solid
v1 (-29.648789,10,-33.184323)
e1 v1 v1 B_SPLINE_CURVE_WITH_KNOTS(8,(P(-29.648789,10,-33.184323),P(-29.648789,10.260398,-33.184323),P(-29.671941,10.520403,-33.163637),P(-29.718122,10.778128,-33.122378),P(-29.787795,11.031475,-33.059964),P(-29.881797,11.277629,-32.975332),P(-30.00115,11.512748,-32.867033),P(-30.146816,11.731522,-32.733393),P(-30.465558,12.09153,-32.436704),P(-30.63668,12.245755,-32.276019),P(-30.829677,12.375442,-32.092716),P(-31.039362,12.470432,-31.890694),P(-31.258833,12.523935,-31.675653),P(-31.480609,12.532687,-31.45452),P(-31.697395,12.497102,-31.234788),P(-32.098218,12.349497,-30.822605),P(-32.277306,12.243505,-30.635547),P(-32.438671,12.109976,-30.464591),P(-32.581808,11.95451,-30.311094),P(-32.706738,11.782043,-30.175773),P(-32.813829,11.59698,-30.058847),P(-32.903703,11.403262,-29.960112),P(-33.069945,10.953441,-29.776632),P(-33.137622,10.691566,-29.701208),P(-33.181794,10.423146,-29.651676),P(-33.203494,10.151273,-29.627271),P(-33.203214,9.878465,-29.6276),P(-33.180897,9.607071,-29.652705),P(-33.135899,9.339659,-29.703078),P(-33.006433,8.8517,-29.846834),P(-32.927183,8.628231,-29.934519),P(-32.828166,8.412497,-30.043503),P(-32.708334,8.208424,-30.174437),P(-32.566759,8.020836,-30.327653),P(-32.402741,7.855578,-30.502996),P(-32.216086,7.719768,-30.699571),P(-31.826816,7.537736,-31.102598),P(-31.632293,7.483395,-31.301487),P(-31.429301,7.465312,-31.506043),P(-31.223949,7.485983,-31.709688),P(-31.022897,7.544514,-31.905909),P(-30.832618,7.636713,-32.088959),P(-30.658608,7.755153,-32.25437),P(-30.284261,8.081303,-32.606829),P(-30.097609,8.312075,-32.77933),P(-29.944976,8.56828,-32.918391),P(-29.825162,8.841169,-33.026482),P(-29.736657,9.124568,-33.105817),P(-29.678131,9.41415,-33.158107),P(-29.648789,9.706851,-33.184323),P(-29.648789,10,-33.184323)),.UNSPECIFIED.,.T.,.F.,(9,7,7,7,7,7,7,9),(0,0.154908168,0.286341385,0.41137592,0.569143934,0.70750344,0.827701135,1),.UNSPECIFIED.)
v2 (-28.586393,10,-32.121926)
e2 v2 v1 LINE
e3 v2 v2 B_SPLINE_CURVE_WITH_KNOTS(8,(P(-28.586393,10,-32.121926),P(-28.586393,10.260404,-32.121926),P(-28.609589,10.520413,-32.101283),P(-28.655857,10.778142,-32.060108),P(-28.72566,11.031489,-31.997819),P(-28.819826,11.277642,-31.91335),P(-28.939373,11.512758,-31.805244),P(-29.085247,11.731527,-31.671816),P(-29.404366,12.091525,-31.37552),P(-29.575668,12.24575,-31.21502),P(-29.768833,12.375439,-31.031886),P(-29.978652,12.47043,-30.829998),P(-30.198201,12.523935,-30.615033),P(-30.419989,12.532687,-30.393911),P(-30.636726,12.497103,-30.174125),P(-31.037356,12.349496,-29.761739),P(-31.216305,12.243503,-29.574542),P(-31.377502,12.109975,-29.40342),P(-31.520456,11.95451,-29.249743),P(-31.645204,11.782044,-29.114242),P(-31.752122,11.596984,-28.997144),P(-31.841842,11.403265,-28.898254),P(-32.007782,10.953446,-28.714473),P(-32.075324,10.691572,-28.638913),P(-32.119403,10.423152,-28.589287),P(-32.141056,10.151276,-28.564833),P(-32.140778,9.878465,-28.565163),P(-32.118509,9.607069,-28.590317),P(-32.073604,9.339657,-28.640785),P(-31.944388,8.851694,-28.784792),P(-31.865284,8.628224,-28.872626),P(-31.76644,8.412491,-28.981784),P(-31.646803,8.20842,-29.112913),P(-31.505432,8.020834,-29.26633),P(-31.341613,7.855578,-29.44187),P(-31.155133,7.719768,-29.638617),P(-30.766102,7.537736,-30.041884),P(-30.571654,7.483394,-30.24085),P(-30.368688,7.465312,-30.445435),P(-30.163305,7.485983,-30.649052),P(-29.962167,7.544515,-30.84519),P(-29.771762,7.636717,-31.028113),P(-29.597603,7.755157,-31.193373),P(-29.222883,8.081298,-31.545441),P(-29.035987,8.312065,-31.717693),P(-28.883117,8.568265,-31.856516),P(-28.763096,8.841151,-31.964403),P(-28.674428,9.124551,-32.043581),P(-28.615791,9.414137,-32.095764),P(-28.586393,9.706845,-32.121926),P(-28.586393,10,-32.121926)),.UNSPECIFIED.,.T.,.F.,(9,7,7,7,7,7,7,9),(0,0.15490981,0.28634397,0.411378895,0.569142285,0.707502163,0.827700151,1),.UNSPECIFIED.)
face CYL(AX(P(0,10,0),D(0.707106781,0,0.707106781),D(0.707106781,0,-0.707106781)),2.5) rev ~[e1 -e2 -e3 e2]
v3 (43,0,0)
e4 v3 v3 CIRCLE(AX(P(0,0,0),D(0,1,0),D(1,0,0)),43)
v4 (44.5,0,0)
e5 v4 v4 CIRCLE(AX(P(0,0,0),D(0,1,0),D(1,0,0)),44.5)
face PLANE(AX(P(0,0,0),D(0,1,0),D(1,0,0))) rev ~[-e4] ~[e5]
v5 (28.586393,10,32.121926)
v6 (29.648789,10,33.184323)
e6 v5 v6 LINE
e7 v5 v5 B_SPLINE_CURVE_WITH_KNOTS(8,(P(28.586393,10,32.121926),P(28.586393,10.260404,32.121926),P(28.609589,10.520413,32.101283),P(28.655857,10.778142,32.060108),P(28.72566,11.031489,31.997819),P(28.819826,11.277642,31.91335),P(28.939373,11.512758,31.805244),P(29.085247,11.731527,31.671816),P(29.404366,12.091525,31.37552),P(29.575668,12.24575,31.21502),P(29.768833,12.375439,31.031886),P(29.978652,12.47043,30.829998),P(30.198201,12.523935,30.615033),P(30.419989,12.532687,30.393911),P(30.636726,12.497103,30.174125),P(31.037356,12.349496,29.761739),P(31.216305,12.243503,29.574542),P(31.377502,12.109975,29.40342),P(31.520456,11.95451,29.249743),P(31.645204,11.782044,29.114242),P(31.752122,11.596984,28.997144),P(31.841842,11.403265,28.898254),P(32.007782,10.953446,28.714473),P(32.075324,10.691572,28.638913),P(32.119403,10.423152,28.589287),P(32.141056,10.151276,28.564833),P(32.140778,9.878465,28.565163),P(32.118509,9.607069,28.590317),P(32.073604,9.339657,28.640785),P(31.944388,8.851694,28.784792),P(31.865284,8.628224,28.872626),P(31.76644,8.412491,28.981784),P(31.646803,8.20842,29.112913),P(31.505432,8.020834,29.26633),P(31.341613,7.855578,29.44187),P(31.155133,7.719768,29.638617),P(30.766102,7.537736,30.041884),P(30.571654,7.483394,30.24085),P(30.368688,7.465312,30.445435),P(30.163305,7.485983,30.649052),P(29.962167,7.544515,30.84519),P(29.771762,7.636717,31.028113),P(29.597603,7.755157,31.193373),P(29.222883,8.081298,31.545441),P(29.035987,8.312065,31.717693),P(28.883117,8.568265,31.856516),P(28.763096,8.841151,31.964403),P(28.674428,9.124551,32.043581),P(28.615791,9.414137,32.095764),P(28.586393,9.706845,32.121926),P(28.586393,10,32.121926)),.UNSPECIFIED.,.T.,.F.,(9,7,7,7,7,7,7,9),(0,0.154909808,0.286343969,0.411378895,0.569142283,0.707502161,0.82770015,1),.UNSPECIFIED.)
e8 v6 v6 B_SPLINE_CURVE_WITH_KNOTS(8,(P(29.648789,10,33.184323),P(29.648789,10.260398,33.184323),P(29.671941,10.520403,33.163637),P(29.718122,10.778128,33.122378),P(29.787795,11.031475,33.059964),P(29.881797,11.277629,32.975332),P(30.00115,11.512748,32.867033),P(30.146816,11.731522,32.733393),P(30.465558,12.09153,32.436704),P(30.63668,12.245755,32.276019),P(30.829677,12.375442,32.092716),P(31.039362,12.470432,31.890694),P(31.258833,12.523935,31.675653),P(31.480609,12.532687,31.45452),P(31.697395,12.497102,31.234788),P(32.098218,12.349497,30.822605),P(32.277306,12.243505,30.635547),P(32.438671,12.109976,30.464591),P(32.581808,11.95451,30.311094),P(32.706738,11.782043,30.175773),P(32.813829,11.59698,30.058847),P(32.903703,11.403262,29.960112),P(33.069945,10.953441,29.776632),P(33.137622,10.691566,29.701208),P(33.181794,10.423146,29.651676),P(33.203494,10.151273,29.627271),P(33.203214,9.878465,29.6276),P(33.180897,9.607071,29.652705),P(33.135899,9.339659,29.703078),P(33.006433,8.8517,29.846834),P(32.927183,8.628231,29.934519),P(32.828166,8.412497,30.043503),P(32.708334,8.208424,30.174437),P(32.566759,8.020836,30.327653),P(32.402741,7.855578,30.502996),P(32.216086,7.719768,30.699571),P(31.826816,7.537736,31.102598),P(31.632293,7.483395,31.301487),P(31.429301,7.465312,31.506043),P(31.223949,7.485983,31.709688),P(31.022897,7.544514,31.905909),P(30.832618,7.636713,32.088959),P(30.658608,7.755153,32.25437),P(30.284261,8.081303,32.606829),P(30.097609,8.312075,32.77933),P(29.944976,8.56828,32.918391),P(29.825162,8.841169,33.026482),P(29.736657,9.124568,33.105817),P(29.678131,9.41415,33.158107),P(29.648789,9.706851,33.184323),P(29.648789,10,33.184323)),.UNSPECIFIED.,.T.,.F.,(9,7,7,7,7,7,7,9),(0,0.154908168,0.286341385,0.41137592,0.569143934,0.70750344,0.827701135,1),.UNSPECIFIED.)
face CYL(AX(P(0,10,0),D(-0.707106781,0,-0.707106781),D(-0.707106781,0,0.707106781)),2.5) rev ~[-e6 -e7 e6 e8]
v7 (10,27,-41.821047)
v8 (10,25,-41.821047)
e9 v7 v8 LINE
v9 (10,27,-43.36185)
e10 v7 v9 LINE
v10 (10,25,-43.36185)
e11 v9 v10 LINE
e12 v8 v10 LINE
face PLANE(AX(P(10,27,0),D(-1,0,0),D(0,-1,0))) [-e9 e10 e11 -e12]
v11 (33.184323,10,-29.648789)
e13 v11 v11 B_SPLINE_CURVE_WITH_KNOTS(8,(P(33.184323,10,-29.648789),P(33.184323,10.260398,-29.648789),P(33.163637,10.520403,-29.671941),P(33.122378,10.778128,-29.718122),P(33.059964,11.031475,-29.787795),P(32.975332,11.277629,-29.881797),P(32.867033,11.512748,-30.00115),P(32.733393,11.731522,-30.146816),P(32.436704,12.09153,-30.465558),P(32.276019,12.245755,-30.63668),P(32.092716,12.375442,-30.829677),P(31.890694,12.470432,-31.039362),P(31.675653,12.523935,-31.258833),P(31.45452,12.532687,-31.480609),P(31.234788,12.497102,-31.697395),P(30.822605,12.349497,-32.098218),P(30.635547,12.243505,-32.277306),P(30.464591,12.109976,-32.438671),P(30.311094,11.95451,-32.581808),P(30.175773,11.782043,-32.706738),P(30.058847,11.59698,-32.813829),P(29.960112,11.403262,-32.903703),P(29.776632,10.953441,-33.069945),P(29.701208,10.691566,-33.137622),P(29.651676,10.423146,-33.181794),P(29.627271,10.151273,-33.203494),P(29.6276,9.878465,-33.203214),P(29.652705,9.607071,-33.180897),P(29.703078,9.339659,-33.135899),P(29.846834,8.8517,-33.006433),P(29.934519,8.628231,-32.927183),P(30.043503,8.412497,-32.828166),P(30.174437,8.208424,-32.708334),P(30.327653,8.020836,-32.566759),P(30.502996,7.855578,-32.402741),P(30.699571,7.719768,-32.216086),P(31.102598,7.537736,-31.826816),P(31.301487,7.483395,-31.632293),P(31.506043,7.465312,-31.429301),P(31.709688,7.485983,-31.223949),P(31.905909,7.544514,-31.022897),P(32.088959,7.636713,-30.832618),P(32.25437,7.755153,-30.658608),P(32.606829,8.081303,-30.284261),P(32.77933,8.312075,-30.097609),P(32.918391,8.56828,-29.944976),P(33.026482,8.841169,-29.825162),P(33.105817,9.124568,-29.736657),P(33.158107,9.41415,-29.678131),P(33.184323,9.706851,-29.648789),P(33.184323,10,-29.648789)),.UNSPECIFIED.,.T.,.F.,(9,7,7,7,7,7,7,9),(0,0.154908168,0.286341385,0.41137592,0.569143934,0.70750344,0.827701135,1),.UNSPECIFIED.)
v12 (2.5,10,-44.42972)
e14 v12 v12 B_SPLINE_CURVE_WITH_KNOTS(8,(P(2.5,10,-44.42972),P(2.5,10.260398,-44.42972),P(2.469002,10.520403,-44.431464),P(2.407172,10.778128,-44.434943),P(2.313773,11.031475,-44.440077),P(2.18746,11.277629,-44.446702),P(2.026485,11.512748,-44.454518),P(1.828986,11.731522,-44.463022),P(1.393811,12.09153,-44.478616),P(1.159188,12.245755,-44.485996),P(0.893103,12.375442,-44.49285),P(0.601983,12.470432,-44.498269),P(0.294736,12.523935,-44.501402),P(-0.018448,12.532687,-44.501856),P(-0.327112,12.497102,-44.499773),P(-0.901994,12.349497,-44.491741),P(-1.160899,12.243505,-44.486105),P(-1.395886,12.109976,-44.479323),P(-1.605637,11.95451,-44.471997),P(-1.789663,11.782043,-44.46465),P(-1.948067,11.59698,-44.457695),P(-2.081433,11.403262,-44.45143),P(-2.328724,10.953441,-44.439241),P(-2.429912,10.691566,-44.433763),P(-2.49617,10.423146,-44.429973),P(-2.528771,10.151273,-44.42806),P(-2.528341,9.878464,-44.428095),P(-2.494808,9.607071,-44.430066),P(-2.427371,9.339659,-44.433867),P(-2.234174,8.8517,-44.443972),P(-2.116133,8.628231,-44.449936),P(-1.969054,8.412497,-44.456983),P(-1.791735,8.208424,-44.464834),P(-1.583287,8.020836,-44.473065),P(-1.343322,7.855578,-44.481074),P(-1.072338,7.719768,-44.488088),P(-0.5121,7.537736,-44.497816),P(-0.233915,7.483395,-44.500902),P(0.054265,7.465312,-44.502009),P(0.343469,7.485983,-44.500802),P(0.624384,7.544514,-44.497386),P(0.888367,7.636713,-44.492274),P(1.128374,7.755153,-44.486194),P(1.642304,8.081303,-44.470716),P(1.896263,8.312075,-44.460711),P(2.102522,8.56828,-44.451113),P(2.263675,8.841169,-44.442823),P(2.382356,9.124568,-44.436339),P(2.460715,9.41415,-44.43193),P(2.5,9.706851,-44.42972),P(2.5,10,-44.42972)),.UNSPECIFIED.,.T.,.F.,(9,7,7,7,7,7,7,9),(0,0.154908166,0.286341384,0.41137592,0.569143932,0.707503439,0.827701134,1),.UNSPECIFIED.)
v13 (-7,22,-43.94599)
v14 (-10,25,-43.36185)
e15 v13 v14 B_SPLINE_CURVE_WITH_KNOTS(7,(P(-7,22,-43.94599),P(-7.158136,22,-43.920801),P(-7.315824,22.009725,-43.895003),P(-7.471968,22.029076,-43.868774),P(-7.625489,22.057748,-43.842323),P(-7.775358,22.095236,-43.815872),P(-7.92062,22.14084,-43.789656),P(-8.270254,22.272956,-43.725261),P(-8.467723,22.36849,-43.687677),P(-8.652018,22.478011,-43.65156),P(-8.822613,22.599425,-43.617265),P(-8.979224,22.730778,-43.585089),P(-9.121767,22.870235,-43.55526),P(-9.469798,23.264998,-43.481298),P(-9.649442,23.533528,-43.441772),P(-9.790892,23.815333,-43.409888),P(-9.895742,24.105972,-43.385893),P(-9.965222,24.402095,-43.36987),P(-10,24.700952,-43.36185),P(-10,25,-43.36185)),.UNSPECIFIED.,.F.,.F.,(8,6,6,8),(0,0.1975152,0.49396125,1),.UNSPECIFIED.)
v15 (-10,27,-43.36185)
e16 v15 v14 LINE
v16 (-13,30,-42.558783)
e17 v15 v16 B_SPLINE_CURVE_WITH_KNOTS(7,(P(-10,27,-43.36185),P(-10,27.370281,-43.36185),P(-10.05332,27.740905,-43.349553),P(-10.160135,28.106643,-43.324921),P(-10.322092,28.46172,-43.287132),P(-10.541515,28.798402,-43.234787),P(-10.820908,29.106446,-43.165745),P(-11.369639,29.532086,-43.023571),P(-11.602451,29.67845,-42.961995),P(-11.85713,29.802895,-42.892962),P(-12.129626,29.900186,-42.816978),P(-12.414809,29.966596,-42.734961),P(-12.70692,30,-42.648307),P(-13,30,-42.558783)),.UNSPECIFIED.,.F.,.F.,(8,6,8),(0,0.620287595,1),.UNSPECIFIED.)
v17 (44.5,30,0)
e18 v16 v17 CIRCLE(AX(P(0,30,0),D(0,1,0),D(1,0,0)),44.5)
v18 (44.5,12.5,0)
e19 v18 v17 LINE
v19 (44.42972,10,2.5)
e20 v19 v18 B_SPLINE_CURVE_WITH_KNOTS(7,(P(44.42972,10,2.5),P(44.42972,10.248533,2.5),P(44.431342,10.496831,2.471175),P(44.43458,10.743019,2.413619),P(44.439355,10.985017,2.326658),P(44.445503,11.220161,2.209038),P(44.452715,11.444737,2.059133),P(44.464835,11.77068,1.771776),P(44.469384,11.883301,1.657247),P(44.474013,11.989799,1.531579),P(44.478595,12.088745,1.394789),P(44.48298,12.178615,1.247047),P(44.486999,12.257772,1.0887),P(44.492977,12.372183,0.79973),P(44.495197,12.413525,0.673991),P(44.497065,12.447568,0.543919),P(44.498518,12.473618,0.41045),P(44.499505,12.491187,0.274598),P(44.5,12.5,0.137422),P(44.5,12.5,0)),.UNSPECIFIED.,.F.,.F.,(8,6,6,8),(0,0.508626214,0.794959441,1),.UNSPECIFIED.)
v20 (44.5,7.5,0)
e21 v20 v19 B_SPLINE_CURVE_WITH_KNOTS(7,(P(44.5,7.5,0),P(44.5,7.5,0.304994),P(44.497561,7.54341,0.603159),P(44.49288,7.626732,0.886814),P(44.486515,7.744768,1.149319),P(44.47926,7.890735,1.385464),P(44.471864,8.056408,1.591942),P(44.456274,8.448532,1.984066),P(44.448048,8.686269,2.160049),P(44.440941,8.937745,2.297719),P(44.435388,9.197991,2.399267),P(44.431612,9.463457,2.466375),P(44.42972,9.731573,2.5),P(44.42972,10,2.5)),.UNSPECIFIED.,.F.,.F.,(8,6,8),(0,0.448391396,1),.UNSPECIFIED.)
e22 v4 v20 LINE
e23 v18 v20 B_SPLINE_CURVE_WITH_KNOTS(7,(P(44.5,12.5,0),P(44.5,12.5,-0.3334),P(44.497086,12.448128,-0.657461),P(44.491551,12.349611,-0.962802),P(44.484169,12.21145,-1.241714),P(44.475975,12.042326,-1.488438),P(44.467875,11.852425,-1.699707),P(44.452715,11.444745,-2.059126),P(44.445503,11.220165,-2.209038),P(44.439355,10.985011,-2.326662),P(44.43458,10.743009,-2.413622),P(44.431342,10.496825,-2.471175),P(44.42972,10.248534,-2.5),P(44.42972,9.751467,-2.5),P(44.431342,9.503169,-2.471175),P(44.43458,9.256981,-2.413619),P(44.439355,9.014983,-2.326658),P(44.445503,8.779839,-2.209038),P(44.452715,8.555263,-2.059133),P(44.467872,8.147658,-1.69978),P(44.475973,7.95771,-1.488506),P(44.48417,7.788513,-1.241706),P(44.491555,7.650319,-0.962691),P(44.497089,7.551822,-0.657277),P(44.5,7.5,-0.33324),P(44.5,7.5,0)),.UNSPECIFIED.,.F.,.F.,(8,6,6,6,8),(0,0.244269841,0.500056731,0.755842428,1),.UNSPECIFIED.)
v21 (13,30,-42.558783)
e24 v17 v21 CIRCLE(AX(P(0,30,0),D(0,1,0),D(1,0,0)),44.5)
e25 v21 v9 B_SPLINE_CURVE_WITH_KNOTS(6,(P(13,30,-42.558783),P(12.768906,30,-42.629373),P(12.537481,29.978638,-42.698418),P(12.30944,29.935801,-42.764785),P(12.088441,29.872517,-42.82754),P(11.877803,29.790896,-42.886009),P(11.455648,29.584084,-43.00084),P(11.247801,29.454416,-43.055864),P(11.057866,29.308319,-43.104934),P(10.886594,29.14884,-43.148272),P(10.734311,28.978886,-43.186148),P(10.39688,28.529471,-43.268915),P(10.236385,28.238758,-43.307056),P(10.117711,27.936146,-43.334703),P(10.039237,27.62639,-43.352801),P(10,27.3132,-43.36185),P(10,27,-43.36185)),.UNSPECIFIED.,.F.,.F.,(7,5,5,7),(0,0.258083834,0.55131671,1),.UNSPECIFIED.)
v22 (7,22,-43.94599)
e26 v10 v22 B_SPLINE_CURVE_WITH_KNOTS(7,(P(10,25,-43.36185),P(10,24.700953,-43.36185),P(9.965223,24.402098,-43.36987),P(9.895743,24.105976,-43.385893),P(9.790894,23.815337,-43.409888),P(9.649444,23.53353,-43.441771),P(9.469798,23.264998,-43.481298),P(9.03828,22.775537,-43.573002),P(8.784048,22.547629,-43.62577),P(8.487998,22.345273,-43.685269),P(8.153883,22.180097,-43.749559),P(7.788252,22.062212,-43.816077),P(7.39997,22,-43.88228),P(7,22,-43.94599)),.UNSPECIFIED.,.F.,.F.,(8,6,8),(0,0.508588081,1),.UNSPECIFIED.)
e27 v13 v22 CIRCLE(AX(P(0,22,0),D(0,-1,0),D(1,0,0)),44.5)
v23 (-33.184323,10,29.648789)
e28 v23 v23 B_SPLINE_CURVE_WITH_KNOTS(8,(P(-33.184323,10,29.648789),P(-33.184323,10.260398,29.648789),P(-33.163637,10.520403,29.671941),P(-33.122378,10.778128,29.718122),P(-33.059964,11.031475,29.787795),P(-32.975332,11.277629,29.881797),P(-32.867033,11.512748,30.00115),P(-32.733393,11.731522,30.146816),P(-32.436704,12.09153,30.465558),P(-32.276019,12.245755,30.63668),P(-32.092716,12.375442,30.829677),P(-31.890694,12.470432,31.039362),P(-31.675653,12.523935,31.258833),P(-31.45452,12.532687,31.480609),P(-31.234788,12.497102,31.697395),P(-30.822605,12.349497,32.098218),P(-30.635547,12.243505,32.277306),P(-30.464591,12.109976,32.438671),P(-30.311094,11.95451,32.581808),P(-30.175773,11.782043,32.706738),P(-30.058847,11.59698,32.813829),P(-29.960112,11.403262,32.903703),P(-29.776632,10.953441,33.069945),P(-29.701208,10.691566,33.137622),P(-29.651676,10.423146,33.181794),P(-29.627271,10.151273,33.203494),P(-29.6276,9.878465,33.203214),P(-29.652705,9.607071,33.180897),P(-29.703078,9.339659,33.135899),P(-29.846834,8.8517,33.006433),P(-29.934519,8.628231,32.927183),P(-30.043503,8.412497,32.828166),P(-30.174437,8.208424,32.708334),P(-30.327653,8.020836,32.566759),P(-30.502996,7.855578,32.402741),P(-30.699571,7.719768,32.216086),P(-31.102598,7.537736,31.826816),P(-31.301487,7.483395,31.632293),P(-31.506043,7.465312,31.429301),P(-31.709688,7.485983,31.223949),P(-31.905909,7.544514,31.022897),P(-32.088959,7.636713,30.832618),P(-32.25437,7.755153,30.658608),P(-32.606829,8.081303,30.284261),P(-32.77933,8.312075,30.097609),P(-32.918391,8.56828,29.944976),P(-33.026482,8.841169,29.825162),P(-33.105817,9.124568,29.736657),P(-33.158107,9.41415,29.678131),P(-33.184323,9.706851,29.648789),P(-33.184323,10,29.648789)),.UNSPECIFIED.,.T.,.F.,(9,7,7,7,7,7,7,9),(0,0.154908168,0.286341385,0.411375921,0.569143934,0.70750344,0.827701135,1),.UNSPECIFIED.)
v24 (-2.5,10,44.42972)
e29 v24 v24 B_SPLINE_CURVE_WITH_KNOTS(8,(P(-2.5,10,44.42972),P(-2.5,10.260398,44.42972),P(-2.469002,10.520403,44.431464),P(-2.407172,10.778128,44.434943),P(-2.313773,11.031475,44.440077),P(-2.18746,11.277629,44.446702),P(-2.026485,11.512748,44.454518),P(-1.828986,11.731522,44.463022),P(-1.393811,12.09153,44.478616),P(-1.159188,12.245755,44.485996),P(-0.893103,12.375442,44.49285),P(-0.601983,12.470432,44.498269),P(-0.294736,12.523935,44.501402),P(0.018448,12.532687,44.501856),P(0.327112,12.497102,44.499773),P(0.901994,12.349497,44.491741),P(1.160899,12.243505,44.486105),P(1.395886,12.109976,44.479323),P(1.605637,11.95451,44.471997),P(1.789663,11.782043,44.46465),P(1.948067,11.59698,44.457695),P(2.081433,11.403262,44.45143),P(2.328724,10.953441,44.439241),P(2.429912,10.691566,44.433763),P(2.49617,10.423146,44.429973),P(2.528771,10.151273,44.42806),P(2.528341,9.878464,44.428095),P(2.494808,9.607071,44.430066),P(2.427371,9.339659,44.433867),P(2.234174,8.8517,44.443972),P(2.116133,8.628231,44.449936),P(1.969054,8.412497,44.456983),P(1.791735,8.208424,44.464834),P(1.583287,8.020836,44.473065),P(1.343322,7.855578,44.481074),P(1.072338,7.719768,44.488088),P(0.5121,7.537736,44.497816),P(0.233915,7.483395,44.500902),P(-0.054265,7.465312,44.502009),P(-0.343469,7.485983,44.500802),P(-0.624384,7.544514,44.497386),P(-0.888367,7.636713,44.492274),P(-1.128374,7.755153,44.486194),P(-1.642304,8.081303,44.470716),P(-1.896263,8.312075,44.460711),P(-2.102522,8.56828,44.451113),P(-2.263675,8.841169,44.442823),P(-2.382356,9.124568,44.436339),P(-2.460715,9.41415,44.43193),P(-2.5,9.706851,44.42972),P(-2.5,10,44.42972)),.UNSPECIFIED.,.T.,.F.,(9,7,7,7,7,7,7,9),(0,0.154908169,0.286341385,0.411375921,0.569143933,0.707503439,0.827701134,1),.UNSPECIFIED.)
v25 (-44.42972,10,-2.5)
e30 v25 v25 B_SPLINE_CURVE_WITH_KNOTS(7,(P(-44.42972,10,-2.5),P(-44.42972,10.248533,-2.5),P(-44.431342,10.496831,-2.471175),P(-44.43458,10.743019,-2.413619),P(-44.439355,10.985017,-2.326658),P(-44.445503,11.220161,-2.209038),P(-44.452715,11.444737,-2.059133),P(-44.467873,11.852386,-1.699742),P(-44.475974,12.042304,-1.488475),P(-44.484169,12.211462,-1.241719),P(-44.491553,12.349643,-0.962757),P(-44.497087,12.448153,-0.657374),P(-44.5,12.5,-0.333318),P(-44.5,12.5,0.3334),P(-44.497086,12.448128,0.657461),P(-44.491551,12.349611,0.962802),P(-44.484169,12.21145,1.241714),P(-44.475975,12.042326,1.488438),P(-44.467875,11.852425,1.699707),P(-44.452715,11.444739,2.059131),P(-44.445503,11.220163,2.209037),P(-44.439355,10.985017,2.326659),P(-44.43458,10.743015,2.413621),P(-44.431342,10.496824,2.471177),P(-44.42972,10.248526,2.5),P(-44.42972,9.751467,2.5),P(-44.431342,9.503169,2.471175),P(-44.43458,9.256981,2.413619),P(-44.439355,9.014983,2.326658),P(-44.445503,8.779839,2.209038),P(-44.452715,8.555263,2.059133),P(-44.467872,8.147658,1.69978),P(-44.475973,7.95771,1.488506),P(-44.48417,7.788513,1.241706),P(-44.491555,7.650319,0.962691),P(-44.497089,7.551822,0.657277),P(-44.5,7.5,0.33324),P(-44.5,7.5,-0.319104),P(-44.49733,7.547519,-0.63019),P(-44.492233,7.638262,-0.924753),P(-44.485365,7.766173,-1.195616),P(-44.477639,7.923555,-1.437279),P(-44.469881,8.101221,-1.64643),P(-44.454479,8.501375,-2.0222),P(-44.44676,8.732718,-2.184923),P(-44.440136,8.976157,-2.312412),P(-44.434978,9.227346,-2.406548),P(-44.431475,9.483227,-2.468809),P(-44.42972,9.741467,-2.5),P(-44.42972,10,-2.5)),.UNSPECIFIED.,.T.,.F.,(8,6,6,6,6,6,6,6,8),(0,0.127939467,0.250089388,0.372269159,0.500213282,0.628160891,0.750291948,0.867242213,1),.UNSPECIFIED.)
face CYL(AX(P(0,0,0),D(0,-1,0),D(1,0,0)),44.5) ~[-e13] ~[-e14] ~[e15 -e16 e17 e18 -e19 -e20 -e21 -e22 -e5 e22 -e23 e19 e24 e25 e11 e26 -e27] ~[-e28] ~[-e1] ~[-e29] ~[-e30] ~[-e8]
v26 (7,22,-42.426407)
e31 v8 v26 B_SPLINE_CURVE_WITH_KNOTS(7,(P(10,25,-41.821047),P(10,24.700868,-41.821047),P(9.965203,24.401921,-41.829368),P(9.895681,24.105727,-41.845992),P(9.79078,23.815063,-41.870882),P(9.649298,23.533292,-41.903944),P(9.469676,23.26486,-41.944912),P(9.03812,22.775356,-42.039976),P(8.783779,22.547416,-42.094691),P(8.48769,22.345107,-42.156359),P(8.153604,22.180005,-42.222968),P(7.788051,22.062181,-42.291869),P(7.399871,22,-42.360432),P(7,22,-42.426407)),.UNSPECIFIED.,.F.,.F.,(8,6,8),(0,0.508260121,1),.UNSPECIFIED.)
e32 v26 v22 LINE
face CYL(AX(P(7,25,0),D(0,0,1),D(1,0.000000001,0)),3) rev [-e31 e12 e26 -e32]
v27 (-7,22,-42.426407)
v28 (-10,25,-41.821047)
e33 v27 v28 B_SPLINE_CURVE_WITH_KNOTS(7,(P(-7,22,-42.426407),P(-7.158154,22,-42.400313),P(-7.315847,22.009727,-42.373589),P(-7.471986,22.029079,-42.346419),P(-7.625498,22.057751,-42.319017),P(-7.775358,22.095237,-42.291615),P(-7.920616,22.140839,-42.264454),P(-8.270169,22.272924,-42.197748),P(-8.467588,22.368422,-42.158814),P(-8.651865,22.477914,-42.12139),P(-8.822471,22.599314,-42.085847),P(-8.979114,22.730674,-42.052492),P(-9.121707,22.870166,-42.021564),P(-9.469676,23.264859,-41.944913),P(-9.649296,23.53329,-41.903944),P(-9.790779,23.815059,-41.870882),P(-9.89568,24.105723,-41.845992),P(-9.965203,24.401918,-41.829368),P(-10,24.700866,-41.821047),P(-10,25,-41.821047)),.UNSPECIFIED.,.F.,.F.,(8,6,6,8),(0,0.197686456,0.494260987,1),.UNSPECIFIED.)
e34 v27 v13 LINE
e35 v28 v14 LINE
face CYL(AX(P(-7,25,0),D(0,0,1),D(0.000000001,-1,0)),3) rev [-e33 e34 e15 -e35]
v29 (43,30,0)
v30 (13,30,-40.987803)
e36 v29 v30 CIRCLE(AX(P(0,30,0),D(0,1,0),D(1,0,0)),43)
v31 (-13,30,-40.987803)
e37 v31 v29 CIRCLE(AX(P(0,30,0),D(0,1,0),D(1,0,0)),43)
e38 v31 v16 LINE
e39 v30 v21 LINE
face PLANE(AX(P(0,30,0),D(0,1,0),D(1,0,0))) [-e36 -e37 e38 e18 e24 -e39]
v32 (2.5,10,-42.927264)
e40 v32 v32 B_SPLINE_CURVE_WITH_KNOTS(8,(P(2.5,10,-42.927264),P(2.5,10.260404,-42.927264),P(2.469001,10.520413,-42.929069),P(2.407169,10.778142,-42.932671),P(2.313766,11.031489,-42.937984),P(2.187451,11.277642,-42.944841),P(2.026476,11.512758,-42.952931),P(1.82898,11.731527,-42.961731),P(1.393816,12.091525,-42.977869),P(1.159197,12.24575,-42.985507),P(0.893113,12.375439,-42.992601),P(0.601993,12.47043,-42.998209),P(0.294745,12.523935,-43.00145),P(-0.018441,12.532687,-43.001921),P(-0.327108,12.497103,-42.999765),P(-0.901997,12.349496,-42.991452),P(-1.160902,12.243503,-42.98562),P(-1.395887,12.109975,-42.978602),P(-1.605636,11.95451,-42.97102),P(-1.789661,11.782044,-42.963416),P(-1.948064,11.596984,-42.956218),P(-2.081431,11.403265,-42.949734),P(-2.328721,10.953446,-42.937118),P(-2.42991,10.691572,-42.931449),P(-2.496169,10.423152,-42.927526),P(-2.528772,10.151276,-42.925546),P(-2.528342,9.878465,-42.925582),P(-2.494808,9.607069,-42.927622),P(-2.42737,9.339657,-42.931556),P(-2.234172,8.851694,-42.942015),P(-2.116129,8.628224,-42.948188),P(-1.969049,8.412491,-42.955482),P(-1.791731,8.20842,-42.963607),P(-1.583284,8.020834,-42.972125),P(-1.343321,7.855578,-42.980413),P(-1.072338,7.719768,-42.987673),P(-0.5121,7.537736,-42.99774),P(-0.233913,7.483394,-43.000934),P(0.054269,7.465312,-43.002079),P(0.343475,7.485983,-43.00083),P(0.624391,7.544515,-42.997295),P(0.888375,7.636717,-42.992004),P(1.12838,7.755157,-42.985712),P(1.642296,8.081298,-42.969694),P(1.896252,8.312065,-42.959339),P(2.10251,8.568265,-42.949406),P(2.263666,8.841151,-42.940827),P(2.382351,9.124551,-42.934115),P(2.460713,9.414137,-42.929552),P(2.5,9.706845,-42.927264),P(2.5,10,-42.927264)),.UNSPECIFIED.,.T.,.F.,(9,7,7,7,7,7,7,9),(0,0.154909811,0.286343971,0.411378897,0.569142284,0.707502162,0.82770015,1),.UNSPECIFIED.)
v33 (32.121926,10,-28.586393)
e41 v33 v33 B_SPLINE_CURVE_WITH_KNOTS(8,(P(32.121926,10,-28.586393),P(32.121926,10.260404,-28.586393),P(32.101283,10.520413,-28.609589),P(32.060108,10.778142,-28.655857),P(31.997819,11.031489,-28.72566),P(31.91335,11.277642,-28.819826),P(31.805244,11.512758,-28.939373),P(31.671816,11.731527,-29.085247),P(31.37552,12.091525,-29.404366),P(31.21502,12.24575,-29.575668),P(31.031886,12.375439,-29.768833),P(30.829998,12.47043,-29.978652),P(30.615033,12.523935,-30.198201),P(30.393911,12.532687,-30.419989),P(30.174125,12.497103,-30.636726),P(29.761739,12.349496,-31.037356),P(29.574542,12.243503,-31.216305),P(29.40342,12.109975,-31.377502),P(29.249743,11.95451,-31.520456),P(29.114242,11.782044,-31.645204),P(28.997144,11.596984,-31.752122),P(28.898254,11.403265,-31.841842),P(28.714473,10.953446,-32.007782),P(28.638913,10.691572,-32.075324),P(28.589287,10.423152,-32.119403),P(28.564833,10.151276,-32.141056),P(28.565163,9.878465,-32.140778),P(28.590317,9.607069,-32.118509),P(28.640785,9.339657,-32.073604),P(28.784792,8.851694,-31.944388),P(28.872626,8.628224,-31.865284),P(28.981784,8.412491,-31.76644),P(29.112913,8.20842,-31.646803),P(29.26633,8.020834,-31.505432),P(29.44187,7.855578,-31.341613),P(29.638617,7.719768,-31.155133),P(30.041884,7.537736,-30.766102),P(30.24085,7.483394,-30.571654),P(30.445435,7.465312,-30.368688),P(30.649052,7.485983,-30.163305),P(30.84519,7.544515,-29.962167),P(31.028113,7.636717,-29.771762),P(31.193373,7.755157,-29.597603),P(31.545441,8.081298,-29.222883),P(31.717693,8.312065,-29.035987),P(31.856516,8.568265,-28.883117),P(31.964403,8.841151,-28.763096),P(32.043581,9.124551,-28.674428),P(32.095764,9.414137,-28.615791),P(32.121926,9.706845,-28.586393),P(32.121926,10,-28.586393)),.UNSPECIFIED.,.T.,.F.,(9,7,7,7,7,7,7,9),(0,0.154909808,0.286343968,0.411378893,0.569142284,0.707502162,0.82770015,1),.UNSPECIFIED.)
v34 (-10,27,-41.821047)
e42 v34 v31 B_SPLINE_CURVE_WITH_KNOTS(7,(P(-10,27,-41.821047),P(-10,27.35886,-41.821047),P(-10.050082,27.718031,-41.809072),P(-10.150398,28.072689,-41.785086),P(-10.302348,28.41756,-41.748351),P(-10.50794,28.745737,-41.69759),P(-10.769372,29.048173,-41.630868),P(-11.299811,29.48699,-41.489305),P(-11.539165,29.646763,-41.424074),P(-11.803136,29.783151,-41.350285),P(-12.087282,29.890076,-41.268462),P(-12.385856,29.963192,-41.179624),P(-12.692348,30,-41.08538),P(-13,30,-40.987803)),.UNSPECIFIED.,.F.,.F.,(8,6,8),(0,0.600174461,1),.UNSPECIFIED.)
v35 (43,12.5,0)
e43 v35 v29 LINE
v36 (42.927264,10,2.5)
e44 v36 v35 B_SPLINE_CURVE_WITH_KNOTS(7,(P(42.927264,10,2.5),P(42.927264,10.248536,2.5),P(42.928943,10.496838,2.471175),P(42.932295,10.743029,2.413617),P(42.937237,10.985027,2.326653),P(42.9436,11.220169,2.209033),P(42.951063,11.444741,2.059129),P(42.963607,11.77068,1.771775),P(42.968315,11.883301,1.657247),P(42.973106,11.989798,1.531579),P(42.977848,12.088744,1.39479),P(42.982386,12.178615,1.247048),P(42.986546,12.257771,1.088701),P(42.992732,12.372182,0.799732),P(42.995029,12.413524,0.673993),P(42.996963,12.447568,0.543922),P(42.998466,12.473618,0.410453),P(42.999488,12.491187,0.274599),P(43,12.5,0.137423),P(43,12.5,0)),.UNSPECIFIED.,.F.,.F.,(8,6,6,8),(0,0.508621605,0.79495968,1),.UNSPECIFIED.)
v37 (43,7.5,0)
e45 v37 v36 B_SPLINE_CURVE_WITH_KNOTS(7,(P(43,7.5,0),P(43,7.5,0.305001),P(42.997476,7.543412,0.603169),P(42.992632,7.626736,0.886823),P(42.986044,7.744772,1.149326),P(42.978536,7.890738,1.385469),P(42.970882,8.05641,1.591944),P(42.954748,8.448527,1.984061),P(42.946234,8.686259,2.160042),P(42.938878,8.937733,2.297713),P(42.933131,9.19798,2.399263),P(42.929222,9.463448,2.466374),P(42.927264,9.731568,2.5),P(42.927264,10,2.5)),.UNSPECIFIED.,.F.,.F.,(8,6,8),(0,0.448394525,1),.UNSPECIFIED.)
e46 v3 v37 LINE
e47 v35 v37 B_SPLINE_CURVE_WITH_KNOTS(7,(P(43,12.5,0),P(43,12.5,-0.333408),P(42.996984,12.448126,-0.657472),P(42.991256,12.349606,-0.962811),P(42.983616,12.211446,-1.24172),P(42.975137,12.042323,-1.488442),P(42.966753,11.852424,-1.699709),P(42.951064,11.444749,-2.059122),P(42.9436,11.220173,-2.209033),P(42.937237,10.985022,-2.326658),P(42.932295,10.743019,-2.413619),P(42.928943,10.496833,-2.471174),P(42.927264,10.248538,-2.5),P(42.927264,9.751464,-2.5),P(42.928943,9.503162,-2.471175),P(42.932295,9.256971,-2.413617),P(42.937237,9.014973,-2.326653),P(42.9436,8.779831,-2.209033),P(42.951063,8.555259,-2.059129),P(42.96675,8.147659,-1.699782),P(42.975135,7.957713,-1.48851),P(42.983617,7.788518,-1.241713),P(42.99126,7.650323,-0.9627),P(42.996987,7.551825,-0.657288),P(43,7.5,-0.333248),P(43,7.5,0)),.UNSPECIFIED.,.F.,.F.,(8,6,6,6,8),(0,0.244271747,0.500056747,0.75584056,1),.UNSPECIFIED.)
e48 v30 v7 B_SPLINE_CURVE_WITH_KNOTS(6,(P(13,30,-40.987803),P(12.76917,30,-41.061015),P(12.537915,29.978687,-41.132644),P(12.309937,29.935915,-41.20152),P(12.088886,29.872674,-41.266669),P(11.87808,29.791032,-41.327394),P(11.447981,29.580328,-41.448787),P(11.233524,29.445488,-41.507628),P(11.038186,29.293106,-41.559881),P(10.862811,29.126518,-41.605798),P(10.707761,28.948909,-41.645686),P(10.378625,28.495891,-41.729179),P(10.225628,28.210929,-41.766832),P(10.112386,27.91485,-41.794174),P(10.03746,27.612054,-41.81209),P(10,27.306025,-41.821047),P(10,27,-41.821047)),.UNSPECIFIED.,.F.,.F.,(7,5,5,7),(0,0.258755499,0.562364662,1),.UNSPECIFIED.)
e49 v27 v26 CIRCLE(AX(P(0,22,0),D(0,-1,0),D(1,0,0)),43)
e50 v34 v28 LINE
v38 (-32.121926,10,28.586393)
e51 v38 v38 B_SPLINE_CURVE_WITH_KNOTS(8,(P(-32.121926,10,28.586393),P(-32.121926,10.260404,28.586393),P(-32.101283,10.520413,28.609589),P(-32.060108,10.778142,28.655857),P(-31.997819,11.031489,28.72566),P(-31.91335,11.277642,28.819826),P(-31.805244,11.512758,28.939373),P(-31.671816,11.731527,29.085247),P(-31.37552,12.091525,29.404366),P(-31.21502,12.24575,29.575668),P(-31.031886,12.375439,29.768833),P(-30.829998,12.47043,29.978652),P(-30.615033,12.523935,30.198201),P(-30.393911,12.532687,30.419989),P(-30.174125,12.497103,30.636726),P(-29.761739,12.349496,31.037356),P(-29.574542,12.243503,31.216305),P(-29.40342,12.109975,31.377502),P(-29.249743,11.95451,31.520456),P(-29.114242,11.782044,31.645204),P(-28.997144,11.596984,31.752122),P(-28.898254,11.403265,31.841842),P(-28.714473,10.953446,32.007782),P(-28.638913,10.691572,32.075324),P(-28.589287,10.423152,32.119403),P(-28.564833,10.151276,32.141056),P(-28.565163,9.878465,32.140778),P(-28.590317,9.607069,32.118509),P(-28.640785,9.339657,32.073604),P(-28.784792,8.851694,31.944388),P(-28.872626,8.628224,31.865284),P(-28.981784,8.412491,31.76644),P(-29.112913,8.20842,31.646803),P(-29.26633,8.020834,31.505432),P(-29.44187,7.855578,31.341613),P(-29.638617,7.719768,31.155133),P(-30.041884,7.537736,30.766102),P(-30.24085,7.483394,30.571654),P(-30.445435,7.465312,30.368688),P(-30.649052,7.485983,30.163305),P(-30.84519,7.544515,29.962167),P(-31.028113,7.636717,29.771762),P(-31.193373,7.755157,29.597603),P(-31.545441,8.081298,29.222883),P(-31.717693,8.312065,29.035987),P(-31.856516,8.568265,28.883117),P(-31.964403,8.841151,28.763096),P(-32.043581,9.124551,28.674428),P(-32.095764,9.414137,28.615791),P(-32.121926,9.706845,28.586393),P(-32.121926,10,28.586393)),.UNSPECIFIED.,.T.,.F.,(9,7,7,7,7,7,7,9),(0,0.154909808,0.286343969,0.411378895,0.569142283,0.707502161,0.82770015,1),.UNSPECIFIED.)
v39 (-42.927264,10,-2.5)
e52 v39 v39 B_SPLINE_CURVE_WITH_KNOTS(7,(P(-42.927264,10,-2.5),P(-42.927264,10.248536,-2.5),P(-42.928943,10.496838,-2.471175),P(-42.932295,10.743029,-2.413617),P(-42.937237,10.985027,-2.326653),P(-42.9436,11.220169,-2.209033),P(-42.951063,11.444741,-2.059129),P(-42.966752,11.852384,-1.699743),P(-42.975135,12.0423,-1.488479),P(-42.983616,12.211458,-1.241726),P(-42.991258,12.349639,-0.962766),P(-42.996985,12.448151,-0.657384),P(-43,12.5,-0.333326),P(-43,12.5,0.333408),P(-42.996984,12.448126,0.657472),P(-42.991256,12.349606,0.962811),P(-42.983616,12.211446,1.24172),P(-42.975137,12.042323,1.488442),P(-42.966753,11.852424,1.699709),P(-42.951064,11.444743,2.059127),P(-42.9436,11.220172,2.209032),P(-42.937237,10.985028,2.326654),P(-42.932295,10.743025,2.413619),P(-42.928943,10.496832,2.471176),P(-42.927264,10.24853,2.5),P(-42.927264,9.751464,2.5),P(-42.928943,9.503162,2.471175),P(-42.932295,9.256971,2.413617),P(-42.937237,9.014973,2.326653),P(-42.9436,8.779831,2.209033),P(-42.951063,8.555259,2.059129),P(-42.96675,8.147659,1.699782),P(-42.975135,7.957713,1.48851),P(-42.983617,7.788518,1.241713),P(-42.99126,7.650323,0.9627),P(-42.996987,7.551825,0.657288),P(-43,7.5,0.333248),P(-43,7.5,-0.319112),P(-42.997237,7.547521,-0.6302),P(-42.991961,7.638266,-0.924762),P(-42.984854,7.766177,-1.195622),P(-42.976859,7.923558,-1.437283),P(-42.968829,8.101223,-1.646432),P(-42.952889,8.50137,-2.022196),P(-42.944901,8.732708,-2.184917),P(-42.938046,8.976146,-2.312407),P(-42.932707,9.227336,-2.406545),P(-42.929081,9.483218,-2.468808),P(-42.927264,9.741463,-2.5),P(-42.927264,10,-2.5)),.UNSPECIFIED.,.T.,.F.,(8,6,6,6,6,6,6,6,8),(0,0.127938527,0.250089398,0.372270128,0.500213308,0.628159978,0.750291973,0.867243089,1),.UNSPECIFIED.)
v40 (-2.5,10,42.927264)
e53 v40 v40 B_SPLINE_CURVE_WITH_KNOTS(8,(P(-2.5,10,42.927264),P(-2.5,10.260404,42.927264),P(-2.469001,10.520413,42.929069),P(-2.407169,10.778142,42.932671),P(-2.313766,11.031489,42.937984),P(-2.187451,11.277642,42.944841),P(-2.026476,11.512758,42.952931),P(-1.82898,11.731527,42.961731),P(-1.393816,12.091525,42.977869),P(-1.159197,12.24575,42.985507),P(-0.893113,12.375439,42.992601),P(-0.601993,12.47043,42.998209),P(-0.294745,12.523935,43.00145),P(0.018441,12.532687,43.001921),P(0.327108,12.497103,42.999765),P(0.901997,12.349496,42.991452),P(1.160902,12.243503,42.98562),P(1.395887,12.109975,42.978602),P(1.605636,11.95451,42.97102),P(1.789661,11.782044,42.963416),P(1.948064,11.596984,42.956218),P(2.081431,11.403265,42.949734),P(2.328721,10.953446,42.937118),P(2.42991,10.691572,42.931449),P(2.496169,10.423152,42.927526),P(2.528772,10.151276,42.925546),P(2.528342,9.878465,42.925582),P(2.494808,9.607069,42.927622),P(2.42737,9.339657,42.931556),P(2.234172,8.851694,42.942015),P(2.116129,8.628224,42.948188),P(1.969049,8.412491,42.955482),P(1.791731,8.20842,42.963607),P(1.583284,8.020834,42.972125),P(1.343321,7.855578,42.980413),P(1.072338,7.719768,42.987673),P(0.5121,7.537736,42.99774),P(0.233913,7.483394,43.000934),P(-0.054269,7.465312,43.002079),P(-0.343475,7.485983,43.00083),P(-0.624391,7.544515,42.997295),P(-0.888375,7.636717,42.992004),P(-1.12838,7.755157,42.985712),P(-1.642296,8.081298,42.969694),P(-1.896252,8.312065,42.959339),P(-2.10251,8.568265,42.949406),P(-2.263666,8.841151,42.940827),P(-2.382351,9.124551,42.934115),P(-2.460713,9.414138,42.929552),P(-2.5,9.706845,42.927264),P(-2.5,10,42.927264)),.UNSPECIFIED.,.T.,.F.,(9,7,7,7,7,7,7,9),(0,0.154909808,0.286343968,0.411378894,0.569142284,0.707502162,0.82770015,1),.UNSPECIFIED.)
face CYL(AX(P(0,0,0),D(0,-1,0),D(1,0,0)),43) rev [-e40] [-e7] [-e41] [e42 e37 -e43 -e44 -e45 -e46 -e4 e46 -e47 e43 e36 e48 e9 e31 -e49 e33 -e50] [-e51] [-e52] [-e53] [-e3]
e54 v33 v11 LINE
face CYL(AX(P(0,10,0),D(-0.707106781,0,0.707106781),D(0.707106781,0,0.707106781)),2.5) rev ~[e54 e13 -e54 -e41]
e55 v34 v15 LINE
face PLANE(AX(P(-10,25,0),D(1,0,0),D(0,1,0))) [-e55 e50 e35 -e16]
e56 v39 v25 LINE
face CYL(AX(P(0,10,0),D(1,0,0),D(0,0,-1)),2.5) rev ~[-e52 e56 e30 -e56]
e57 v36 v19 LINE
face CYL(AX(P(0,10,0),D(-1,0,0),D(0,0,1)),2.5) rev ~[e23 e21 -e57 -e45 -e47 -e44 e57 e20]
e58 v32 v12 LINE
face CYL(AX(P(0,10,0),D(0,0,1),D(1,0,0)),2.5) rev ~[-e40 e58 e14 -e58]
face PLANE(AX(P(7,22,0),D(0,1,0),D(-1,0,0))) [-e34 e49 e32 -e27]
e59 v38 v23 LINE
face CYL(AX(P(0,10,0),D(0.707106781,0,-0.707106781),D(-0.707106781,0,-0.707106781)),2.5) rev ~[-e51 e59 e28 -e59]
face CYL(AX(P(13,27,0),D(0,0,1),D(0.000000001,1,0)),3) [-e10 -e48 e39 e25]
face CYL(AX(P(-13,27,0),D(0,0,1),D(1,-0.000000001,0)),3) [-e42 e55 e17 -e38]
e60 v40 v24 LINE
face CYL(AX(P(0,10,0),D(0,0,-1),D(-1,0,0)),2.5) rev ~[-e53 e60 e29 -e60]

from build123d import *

# Parameters (mm, degrees)
SKIZZE1_R                       = 44.5
SKIZZE1_R_2                     = 43
AUFSATZ_LINEAR_AUSTRAGEN1_DEPTH = 30
SKIZZE3_R                       = 2.5
SCHNITT_LINEAR_AUSTRAGEN1_DEPTH = 45.5
KREISMUSTER1_COUNT              = 8
SCHNITT_LINEAR_AUSTRAGEN2_DEPTH = 45.500000122


with BuildPart() as part:
    # Skizze1 → Aufsatz-Linear austragen1 (new body)
    with BuildSketch(Plane(origin=(0, 0, 0), x_dir=(1, 0, 0), z_dir=(0, 1, 0))):
        Circle(SKIZZE1_R)
        Circle(SKIZZE1_R_2, mode=Mode.SUBTRACT)
    extrude(amount=AUFSATZ_LINEAR_AUSTRAGEN1_DEPTH)

    # Skizze3 → Schnitt-Linear austragen1 (cut, through all)
    with BuildSketch(Plane.XY):
        with Locations((0, 10)):
            Circle(SKIZZE3_R)
    schnitt_linear_austragen1 = extrude(amount=-SCHNITT_LINEAR_AUSTRAGEN1_DEPTH, mode=Mode.SUBTRACT)

    # Kreismuster1: Schnitt-Linear austragen1 ×8 about axis
    kreismuster1_axis = Axis((0, 30, 0), (0, -1, 0))
    for i in range(1, KREISMUSTER1_COUNT):
        add(schnitt_linear_austragen1.rotate(kreismuster1_axis, i * 360 / KREISMUSTER1_COUNT), mode=Mode.SUBTRACT)

    # Skizze4 → Schnitt-Linear austragen2 (cut, through all)
    with BuildSketch(Plane.XY):
        with BuildLine():
            Line((-13, 30), (13, 30))
            ThreePointArc((13, 30), (10.878679656, 29.121320344), (10, 27))
            Line((10, 27), (10, 25))
            ThreePointArc((10, 25), (9.121320344, 22.878679656), (7, 22))
            Line((7, 22), (-7, 22))
            ThreePointArc((-7, 22), (-9.121320344, 22.878679656), (-10, 25))
            Line((-10, 25), (-10, 27))
            ThreePointArc((-10, 27), (-10.878679656, 29.121320344), (-13, 30))
        make_face()
    extrude(amount=-SCHNITT_LINEAR_AUSTRAGEN2_DEPTH, mode=Mode.SUBTRACT)


solid = part.part
